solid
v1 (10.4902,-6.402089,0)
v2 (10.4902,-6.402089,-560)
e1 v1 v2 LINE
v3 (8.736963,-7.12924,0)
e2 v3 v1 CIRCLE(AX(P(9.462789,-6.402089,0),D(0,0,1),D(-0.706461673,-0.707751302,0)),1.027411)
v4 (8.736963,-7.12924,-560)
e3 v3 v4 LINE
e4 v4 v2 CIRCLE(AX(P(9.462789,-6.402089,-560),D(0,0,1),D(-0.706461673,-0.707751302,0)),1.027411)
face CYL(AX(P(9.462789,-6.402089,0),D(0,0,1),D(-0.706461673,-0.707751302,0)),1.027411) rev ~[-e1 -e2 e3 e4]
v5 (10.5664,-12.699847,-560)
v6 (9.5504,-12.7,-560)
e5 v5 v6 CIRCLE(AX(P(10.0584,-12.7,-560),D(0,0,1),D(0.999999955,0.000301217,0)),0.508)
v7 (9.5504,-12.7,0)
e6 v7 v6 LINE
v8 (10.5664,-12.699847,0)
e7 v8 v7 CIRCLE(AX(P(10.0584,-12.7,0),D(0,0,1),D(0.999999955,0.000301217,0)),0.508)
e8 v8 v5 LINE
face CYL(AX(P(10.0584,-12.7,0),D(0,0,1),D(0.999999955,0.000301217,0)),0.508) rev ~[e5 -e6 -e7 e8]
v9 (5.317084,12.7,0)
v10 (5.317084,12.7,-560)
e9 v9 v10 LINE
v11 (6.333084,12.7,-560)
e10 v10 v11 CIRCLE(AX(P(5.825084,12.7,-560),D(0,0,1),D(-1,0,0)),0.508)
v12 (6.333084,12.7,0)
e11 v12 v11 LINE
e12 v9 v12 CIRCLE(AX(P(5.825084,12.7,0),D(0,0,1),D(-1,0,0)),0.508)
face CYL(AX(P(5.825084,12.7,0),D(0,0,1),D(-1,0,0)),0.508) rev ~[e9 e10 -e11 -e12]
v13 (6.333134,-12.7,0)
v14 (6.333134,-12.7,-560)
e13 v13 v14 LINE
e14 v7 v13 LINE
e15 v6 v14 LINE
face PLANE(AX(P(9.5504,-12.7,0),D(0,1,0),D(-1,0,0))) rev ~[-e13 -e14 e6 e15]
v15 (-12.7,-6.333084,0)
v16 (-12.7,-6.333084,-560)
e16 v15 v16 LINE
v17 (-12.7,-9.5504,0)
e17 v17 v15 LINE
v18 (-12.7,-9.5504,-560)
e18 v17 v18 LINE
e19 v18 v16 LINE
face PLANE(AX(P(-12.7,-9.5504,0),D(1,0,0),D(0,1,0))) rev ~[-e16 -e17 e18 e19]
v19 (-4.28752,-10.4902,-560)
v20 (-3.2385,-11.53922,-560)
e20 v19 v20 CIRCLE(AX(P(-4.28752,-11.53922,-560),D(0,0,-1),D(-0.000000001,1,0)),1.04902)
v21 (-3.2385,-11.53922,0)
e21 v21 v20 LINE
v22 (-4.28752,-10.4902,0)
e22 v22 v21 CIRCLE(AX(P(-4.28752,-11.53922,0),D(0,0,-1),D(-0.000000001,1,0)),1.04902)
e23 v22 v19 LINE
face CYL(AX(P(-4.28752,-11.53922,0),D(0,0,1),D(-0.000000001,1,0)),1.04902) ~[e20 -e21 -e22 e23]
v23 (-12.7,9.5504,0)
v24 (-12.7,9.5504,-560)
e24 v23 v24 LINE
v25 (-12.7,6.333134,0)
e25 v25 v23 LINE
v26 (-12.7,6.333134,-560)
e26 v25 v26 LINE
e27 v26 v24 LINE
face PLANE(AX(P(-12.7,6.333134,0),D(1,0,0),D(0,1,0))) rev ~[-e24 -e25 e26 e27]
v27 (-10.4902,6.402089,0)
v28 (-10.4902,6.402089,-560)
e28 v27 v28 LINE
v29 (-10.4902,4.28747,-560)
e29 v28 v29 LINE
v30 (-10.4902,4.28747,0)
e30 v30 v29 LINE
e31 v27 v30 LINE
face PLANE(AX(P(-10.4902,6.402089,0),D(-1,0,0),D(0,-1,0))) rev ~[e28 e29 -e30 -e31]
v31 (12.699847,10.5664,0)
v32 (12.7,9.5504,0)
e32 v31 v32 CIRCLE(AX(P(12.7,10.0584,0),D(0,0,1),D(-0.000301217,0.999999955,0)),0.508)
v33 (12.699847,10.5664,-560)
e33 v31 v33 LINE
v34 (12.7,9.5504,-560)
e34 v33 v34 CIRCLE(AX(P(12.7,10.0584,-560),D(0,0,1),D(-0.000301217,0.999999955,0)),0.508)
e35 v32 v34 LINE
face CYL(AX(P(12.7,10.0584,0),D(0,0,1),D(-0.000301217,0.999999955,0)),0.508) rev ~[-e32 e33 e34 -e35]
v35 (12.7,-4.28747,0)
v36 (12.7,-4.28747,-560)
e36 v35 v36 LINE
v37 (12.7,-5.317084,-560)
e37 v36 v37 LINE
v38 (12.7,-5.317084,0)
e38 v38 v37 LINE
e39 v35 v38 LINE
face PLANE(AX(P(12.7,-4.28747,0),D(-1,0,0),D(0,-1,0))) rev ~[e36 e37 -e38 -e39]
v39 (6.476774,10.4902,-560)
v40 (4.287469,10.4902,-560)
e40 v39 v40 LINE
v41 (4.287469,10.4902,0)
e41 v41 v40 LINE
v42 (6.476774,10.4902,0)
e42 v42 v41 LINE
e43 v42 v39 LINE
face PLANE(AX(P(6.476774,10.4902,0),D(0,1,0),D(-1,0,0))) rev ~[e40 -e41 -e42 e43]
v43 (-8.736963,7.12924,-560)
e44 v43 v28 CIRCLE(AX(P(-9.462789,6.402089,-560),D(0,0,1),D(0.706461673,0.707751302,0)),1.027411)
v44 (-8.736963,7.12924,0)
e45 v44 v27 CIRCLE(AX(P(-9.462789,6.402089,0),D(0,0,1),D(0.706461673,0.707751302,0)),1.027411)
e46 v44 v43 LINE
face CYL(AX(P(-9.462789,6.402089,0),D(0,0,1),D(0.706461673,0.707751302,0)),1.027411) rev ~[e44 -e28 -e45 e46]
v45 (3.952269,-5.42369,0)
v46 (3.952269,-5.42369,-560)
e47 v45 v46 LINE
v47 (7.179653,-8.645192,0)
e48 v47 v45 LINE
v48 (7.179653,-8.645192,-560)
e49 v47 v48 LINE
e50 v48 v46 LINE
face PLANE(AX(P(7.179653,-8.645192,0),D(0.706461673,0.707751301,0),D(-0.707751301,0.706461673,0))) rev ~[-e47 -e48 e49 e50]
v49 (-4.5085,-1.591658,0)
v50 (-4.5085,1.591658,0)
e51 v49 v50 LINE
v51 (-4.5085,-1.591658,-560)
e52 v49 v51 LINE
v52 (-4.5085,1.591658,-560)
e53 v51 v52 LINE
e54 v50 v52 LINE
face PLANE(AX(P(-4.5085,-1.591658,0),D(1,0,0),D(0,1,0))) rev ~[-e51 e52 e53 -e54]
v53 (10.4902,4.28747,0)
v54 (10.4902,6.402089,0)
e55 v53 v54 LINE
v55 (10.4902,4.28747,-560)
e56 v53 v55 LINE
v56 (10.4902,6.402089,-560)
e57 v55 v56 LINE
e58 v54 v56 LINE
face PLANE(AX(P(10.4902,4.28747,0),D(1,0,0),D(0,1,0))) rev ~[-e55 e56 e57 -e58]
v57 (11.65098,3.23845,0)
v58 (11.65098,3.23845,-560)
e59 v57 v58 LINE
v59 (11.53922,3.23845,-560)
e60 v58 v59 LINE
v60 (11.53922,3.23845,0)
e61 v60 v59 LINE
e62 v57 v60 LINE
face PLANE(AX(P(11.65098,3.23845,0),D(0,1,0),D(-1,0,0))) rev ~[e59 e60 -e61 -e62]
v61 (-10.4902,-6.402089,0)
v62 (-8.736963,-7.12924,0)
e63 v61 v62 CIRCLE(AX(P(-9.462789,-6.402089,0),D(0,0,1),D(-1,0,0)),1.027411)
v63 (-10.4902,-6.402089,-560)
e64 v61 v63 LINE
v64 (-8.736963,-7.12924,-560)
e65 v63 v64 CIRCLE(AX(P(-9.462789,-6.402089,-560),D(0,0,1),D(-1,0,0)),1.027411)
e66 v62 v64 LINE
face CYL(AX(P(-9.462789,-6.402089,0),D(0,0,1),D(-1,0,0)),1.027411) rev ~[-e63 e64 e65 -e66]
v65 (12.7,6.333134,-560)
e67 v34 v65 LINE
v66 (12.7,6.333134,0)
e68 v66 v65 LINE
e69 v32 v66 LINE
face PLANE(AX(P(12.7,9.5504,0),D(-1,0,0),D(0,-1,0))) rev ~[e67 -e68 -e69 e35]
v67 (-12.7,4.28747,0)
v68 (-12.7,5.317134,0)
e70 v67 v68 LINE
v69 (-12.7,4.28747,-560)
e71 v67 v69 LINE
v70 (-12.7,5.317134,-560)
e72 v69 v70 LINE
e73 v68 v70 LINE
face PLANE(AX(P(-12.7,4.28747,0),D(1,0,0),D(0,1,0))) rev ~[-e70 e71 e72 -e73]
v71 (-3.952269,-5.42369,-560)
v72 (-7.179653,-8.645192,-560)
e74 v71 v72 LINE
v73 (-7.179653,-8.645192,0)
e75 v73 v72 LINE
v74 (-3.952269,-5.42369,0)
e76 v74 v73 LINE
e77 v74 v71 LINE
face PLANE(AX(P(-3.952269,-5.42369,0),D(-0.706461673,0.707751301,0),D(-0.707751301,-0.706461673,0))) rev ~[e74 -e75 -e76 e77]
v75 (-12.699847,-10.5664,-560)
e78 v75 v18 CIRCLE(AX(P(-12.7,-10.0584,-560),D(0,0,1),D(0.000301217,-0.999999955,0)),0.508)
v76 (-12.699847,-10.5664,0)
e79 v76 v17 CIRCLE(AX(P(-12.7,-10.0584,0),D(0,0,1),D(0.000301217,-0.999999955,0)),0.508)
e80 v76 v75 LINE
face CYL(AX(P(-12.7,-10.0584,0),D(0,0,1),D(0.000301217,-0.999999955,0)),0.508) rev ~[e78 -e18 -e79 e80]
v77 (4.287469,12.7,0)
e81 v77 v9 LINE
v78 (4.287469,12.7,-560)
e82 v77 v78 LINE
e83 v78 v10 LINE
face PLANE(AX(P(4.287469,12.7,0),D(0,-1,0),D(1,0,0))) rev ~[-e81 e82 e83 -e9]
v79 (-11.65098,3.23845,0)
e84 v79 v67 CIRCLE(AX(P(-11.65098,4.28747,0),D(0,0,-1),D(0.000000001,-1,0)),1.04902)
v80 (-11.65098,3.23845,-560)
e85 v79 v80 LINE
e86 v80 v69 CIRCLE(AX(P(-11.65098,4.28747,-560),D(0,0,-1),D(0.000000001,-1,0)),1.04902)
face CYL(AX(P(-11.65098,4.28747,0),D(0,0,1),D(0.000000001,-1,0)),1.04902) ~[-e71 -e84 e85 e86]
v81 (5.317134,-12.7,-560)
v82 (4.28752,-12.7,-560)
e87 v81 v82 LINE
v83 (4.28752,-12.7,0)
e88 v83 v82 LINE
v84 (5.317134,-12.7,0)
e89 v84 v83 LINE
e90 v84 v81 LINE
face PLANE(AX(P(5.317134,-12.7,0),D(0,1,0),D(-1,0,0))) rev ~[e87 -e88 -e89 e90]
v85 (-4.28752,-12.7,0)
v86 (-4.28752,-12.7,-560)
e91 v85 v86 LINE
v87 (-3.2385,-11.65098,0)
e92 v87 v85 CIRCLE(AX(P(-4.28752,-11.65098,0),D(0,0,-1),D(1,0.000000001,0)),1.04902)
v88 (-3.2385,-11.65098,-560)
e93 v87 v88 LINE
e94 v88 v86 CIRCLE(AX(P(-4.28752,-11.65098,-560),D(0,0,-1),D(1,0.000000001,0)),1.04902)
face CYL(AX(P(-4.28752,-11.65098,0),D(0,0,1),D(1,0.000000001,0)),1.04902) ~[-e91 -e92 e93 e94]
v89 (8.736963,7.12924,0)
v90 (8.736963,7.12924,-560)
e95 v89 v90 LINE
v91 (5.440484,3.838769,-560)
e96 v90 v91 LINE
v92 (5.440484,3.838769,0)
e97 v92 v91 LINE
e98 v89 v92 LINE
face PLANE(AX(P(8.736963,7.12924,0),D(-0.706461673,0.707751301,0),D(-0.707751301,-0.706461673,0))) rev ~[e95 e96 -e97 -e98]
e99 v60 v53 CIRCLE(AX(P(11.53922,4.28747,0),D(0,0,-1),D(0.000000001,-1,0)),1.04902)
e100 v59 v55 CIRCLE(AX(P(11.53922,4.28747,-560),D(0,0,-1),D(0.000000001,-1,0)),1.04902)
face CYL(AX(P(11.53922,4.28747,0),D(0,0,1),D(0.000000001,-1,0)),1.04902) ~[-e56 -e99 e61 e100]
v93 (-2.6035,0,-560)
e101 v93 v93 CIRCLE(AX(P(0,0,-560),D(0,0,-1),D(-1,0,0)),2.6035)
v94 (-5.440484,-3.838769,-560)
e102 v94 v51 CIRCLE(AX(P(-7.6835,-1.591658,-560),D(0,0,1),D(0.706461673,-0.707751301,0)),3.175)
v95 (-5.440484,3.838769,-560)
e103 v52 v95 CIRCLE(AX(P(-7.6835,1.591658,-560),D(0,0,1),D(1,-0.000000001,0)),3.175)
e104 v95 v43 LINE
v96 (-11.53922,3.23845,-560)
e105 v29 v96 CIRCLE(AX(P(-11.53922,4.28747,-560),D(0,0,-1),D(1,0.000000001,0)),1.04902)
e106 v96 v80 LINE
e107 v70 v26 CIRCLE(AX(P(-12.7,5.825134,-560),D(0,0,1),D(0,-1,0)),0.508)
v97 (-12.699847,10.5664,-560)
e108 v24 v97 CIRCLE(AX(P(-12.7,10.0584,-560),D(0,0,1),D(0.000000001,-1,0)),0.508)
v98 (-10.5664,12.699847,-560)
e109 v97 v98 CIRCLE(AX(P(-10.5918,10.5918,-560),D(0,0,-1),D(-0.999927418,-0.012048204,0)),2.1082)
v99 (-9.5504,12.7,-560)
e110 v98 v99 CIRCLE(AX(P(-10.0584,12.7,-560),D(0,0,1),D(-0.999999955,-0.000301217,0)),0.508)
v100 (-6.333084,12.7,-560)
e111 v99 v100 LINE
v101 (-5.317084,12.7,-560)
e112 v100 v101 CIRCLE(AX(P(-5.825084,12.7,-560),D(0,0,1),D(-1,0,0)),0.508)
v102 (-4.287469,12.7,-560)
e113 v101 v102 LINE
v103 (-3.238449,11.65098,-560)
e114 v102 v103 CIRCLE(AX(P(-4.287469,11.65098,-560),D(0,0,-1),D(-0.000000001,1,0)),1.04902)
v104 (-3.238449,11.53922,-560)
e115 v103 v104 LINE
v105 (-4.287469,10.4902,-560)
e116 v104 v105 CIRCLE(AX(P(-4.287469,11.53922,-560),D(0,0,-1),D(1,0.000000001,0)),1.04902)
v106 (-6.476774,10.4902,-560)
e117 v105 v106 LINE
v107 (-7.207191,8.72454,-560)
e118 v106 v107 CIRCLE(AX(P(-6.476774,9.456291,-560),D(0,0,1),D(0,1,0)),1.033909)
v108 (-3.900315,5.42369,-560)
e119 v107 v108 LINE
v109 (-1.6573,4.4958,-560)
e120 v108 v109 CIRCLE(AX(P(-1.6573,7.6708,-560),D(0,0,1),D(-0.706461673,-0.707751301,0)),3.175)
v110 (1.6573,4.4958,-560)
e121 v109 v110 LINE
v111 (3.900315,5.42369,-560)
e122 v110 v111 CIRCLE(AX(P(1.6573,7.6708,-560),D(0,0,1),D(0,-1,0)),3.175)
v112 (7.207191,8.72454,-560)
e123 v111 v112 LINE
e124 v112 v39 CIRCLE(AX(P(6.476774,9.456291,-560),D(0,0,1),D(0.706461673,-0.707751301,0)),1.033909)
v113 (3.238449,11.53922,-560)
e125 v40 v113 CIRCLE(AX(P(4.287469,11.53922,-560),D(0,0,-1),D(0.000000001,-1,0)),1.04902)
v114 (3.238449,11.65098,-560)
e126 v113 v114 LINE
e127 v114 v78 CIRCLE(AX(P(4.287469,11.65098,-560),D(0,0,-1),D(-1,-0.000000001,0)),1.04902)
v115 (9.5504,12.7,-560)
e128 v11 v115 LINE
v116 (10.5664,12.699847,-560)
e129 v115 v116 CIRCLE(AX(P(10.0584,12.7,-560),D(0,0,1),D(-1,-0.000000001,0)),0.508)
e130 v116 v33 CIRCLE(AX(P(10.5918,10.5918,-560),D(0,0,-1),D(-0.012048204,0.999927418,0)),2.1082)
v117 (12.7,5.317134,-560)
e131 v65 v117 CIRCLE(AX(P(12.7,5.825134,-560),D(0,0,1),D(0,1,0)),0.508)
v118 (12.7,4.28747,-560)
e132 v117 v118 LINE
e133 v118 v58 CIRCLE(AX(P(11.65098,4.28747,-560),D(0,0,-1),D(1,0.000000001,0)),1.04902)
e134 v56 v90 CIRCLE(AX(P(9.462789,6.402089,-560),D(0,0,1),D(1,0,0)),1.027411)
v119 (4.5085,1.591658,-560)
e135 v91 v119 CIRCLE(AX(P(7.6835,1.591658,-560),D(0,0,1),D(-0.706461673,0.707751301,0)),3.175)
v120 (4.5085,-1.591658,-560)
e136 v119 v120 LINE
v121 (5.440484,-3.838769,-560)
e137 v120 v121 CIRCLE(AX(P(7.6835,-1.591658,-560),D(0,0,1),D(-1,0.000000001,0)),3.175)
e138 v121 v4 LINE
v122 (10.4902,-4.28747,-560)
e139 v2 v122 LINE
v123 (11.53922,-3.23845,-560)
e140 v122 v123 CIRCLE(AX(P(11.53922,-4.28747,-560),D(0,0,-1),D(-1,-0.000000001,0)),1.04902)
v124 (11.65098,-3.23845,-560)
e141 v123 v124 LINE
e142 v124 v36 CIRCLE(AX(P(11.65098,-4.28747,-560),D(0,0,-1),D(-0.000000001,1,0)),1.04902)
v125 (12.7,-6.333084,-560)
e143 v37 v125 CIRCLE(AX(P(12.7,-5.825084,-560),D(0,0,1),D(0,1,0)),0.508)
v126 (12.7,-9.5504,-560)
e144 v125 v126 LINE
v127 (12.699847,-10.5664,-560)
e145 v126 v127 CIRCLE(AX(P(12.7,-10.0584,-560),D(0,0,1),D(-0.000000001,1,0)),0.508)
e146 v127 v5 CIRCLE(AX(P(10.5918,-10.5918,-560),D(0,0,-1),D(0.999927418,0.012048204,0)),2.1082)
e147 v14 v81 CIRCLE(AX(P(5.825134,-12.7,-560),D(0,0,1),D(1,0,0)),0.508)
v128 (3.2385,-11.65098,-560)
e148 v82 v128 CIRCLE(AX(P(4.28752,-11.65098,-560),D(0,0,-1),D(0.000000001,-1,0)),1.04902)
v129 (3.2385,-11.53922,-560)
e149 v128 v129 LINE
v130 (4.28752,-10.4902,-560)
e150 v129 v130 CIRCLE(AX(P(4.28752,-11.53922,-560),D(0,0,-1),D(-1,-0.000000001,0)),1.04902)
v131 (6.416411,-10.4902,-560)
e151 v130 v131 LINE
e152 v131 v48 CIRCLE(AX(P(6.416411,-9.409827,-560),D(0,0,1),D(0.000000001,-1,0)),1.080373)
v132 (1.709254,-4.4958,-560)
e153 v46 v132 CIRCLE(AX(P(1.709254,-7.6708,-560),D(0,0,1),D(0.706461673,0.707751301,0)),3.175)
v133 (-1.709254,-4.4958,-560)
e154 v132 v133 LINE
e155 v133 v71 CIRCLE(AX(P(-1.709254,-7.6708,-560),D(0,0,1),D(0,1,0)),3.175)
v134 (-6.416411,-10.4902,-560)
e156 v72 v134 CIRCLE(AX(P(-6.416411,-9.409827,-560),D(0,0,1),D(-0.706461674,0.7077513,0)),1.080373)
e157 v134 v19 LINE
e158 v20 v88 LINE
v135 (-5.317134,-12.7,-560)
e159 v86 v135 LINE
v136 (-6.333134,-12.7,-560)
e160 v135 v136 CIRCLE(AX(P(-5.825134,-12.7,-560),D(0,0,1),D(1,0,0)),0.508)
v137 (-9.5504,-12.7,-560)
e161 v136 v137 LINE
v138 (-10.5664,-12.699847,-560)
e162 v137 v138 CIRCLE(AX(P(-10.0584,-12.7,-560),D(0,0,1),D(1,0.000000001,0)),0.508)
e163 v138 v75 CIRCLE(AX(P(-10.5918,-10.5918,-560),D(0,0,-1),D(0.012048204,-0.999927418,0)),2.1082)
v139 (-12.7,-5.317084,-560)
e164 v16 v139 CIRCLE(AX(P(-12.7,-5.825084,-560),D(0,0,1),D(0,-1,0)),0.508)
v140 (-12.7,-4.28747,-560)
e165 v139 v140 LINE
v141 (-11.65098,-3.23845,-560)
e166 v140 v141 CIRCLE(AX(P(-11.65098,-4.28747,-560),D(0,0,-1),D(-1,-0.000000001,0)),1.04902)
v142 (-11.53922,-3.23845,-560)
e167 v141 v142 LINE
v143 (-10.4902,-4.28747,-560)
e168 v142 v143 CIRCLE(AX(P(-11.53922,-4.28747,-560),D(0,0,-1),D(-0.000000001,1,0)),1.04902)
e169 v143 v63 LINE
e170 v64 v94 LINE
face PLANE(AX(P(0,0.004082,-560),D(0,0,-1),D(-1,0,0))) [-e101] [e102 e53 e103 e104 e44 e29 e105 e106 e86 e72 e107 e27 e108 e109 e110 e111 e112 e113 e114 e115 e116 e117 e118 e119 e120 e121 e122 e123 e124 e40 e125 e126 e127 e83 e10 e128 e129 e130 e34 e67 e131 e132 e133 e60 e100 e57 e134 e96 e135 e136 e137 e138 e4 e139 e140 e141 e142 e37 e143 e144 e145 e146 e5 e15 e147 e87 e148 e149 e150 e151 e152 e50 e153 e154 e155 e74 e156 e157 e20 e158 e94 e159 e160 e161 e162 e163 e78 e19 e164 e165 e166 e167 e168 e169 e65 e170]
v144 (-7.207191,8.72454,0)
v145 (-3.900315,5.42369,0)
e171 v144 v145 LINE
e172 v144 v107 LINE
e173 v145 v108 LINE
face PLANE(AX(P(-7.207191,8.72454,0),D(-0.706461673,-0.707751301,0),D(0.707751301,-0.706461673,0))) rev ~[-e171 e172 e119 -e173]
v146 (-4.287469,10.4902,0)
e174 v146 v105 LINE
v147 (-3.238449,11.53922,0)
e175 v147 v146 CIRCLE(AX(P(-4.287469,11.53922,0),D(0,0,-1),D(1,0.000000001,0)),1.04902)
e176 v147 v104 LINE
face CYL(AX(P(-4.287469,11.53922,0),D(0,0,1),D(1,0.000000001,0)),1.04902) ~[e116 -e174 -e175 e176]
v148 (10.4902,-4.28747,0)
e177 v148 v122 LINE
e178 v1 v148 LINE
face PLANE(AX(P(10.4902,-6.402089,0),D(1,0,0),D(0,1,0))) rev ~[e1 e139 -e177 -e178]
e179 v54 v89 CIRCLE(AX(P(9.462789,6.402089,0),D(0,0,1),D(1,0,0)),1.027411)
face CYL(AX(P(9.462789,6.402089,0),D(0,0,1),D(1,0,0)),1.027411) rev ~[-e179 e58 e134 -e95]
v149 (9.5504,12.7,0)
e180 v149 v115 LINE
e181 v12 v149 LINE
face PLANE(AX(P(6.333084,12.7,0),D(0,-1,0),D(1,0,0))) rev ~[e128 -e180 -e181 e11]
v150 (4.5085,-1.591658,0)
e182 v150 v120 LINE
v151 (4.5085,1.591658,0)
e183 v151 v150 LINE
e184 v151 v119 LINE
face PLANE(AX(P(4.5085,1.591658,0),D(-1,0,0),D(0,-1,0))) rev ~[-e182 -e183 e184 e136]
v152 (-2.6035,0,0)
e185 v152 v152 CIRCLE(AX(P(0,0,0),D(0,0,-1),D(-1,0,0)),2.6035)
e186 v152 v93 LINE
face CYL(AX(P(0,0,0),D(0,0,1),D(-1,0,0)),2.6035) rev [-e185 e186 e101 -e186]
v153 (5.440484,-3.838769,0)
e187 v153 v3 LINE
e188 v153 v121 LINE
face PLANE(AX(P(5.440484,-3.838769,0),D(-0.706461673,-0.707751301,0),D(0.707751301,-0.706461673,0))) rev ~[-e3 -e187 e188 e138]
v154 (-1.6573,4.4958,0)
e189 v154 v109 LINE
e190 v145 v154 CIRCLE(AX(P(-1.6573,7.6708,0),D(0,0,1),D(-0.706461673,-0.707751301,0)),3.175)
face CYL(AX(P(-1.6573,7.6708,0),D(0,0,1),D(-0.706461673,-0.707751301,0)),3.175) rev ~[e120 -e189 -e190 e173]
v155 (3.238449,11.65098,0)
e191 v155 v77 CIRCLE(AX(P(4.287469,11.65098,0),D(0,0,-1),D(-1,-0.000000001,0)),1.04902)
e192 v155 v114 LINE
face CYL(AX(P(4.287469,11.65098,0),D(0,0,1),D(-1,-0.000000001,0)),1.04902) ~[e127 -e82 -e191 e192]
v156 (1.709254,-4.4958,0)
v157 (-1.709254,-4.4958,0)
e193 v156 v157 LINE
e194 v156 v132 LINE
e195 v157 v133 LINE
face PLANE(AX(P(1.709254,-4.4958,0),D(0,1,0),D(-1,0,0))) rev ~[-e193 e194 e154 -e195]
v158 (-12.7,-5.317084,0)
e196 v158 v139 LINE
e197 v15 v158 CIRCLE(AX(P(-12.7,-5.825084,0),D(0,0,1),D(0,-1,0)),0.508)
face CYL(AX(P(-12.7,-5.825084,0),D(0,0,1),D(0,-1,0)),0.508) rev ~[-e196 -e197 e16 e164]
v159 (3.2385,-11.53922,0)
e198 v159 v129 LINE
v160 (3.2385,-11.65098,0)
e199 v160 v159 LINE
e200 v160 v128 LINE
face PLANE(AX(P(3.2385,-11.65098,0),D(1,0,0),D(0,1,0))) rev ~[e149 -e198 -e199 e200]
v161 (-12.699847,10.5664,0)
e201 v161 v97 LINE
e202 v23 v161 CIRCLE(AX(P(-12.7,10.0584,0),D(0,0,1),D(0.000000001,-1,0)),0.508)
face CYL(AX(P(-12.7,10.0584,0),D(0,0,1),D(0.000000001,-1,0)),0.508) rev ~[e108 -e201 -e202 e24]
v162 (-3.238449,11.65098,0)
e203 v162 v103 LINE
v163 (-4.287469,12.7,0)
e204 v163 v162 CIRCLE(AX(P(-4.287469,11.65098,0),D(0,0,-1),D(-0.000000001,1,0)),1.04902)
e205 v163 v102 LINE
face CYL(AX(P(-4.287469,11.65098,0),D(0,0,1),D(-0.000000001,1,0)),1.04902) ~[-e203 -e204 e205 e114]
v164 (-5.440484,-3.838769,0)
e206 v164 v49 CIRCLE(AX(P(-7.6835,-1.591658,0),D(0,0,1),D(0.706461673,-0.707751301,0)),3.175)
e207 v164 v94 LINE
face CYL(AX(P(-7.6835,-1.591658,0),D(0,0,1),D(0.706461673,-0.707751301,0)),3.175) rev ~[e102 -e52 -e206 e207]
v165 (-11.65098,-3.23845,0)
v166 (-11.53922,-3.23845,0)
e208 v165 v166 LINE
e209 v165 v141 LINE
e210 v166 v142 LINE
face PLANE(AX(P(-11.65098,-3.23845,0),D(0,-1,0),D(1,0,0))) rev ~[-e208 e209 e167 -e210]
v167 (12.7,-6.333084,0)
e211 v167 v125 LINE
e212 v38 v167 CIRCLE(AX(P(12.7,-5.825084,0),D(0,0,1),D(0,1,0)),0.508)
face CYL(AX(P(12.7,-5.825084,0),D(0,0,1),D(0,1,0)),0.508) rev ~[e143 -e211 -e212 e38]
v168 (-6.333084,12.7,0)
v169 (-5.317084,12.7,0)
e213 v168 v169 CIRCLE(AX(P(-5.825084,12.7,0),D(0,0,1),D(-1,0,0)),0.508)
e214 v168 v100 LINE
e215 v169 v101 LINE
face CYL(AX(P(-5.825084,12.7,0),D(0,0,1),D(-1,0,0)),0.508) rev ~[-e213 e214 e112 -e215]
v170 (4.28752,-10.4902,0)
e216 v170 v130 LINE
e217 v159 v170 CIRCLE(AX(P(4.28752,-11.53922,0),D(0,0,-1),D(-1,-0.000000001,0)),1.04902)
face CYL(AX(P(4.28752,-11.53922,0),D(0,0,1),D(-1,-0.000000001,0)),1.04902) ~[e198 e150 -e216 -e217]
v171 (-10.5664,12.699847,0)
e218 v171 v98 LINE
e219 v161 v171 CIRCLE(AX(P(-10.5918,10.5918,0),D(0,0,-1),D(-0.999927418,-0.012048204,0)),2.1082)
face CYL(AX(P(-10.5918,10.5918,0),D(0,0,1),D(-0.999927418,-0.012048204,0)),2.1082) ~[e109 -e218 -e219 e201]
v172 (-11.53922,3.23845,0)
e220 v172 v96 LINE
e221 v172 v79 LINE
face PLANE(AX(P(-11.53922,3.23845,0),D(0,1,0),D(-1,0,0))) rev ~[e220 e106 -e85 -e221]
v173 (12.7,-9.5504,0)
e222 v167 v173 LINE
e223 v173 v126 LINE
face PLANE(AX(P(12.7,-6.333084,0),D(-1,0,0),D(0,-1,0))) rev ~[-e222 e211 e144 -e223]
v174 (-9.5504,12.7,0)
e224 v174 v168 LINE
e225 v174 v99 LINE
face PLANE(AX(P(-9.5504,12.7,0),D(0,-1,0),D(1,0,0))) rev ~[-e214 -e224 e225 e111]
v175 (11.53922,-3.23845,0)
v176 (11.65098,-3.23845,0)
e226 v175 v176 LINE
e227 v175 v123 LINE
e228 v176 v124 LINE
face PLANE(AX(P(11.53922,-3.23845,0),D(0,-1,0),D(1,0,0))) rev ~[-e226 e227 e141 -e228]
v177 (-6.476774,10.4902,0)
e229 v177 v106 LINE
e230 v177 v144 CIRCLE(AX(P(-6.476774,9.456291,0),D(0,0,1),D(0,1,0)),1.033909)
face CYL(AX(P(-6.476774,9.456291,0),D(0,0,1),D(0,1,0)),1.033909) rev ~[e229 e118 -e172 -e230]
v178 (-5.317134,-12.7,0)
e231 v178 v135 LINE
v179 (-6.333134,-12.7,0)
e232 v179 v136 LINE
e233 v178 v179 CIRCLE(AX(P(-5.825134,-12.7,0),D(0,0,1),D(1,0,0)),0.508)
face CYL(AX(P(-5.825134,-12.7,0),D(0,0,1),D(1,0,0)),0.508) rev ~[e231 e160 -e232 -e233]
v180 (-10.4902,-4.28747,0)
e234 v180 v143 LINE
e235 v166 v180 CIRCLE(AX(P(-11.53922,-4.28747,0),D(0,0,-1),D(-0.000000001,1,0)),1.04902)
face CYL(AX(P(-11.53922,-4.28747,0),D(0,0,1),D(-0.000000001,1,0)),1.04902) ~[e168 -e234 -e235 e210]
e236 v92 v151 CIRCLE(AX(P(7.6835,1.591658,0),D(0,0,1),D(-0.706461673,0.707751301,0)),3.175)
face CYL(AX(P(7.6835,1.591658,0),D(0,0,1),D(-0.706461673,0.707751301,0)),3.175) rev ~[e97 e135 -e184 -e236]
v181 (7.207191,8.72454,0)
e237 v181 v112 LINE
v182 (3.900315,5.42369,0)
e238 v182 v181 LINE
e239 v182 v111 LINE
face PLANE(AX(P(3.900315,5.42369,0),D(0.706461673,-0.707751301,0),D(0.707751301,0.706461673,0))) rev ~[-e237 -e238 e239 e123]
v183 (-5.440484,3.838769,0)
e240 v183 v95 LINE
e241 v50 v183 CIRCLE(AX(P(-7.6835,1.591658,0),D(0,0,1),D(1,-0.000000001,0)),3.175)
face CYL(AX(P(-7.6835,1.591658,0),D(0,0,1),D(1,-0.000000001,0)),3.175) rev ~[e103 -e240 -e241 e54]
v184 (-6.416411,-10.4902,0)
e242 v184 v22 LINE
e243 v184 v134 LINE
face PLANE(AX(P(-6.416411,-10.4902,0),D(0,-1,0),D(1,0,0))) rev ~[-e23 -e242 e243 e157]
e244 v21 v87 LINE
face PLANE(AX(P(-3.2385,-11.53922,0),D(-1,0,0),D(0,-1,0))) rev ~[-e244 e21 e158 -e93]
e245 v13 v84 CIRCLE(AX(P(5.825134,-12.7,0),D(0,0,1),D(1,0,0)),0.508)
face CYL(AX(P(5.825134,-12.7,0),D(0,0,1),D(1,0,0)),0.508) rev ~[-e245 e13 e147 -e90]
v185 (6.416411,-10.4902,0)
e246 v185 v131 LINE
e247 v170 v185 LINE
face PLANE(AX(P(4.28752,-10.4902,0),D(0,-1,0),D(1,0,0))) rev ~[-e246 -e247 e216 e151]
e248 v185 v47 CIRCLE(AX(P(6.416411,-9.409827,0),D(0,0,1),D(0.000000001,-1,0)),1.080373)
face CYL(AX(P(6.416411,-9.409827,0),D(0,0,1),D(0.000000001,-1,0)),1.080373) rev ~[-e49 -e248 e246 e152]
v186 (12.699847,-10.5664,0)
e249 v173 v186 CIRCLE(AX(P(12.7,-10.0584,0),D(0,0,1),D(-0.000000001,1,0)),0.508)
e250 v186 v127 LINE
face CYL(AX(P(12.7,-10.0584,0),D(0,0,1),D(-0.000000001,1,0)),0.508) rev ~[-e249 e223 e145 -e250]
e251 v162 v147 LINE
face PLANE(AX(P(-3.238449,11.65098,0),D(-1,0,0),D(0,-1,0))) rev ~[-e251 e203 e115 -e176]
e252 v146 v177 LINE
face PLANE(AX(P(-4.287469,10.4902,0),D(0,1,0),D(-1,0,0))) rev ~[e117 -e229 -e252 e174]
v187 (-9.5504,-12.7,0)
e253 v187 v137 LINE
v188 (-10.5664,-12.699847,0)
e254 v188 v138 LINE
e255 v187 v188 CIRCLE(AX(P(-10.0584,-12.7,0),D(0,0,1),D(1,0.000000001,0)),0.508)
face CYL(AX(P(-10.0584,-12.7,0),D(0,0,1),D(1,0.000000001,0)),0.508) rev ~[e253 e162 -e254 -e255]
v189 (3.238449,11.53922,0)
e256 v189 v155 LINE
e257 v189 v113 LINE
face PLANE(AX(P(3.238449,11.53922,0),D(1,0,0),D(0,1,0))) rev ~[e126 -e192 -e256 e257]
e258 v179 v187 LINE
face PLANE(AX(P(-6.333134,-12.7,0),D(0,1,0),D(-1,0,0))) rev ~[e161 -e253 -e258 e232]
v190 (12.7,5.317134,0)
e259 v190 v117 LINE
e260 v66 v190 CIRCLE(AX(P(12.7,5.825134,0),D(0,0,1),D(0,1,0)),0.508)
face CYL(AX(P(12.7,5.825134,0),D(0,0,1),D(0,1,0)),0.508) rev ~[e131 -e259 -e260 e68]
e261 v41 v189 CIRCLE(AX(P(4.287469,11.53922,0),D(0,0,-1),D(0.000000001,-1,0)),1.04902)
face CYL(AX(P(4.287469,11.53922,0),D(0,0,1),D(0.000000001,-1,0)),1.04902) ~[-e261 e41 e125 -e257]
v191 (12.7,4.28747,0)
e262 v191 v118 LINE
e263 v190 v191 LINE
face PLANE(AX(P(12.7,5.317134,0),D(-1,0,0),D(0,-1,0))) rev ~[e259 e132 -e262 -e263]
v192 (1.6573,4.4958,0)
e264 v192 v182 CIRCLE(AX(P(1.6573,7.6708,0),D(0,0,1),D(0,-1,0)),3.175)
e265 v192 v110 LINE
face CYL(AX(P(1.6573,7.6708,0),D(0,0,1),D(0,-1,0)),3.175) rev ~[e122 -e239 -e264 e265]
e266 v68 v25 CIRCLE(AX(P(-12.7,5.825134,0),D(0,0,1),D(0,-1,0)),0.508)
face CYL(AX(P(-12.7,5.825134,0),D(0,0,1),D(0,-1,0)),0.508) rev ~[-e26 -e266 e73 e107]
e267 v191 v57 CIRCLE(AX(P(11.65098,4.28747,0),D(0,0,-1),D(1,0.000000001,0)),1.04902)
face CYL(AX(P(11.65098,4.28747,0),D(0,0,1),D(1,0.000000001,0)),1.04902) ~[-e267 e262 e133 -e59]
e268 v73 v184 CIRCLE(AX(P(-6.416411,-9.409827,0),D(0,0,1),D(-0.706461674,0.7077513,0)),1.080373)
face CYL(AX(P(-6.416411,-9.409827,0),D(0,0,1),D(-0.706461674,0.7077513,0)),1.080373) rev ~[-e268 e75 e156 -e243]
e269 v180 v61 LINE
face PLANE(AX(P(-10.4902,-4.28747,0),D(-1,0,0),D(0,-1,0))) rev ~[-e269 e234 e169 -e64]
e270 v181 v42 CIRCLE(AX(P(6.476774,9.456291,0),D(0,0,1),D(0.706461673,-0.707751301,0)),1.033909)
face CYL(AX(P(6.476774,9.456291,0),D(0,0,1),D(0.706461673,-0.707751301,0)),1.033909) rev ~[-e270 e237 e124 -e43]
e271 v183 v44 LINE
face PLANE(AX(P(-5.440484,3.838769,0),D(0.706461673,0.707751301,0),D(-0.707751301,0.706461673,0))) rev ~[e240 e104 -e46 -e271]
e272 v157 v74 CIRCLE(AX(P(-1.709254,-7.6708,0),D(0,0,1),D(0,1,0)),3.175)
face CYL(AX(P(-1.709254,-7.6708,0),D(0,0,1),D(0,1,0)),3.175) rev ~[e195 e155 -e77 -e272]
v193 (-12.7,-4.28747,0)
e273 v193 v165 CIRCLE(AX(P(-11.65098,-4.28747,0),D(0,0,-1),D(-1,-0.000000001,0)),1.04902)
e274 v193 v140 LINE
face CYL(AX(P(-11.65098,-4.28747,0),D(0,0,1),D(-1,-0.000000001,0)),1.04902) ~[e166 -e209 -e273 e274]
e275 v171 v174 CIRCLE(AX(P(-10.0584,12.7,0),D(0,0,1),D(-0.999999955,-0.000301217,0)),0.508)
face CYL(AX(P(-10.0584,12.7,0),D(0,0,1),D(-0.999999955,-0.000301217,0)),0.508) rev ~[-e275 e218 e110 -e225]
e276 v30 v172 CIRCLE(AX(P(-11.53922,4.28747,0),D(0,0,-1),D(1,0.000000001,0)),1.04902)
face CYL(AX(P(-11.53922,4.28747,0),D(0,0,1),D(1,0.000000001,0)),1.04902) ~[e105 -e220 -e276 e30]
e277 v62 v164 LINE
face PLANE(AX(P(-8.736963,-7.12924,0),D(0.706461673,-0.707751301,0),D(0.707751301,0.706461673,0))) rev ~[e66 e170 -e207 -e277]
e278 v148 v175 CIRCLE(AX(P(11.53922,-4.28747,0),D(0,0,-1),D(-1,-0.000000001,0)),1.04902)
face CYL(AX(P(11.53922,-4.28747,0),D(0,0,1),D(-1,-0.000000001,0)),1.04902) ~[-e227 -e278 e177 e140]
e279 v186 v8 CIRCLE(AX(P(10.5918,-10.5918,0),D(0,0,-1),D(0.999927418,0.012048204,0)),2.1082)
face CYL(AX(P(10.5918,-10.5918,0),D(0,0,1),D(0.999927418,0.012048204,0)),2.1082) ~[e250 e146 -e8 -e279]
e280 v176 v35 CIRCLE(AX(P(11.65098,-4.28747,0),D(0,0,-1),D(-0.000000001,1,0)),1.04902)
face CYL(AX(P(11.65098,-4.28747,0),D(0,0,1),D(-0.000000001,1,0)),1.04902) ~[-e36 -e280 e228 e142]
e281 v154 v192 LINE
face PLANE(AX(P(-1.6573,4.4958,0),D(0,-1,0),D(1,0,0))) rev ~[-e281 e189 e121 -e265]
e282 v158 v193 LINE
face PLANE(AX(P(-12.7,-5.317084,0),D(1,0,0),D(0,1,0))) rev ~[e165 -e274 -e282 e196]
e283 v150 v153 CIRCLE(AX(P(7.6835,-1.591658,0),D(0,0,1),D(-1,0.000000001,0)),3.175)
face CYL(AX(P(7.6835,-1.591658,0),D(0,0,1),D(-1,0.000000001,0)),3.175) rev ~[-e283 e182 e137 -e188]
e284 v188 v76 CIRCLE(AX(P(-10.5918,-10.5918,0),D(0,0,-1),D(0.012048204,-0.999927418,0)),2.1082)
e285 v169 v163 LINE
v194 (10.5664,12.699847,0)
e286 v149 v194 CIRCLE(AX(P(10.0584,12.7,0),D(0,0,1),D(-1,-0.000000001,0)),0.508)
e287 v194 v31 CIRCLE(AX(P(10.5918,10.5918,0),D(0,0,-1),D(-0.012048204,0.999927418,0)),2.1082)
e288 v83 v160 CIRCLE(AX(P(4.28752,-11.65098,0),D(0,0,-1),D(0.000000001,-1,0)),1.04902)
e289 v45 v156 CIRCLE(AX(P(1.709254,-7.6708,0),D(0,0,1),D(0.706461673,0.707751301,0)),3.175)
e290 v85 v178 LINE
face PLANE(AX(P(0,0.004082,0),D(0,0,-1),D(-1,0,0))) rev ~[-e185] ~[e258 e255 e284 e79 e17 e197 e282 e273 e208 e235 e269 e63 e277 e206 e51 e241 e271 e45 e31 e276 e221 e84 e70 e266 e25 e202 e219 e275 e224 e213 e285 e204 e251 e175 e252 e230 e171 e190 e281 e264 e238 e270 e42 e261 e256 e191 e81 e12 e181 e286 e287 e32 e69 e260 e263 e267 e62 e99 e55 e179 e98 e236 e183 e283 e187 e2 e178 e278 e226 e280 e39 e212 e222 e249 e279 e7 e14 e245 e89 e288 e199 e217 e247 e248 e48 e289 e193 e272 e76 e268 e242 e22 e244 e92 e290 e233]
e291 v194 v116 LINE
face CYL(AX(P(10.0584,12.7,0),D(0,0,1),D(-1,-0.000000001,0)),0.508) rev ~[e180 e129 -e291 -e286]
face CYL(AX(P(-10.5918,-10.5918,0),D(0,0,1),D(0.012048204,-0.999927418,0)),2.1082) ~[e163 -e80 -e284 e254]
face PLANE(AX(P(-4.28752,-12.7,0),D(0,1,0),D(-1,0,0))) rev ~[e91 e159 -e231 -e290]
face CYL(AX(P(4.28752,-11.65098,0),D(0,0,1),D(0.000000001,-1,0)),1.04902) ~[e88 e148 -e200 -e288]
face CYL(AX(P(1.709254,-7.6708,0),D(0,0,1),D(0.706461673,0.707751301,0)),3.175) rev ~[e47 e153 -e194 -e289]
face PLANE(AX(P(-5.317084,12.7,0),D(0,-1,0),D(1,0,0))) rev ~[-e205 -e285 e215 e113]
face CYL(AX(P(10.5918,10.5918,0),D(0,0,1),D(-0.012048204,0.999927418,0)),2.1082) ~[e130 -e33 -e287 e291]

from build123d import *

# Parameters (mm, degrees)
SKETCH16_R                                 = 2.6035
IMPERIAL_AL_EXTRUSION_1010_PROFILE_1_DEPTH = 560


with BuildPart() as part:
    # Sketch16 → Imperial al extrusion 1010 PROFILE(1) (new body)
    with BuildSketch(Plane(origin=(0, 0, 0), x_dir=(-1, 0, 0), z_dir=(0, 0, -1))):
        with BuildLine():
            Line((-1.709253557, -4.4958), (1.709253557, -4.4958))
            ThreePointArc((1.709253557, -4.4958), (2.922935876, -4.736928798), (3.95226937, -5.423689619))
            Line((3.95226937, -5.423689619), (7.179652728, -8.645192207))
            ThreePointArc((7.179652728, -8.645192207), (7.414733441, -9.822812921), (6.41641086, -10.4902))
            Line((6.41641086, -10.4902), (4.28752, -10.4902))
            ThreePointArc((4.28752, -10.4902), (3.545750844, -10.797450844), (3.2385, -11.53922))
            Line((3.2385, -11.53922), (3.2385, -11.65098))
            ThreePointArc((3.2385, -11.65098), (3.545750844, -12.392749156), (4.28752, -12.7))
            Line((4.28752, -12.7), (5.3171344, -12.7))
            ThreePointArc((5.3171344, -12.7), (5.8251344, -12.192), (6.3331344, -12.7))
            Line((6.3331344, -12.7), (9.5504, -12.7))
            ThreePointArc((9.5504, -12.7), (10.058323491, -12.192000006), (10.566399977, -12.699846982))
            ThreePointArc((10.566399977, -12.699846982), (12.082522516, -12.082522516), (12.699846982, -10.566399977))
            ThreePointArc((12.699846982, -10.566399977), (12.192000006, -10.058323491), (12.7, -9.5504))
            Line((12.7, -9.5504), (12.7, -6.3330836))
            ThreePointArc((12.7, -6.3330836), (12.192, -5.8250836), (12.7, -5.3170836))
            Line((12.7, -5.3170836), (12.7, -4.287470133))
            ThreePointArc((12.7, -4.287470133), (12.392749156, -3.545700977), (11.65098, -3.238450133))
            Line((11.65098, -3.238450133), (11.53922, -3.238450133))
            ThreePointArc((11.53922, -3.238450133), (10.797450844, -3.545700977), (10.4902, -4.287470133))
            Line((10.4902, -4.287470133), (10.4902, -6.402089023))
            ThreePointArc((10.4902, -6.402089023), (9.856394933, -7.351113629), (8.736962546, -7.129240479))
            Line((8.736962546, -7.129240479), (5.440484187, -3.838768792))
            ThreePointArc((5.440484187, -3.838768792), (4.75073678, -2.808015636), (4.5085, -1.591658411))
            Line((4.5085, -1.591658411), (4.5085, 1.591658411))
            ThreePointArc((4.5085, 1.591658411), (4.75073678, 2.808015636), (5.440484187, 3.838768792))
            Line((5.440484187, 3.838768792), (8.736962546, 7.129240479))
            ThreePointArc((8.736962546, 7.129240479), (9.856394933, 7.351113629), (10.4902, 6.402089023))
            Line((10.4902, 6.402089023), (10.4902, 4.287470133))
            ThreePointArc((10.4902, 4.287470133), (10.797450844, 3.545700977), (11.53922, 3.238450133))
            Line((11.53922, 3.238450133), (11.65098, 3.238450133))
            ThreePointArc((11.65098, 3.238450133), (12.392749156, 3.545700977), (12.7, 4.287470133))
            Line((12.7, 4.287470133), (12.7, 5.3171344))
            ThreePointArc((12.7, 5.3171344), (12.192, 5.8251344), (12.7, 6.3331344))
            Line((12.7, 6.3331344), (12.7, 9.5504))
            ThreePointArc((12.7, 9.5504), (12.192000006, 10.058323491), (12.699846982, 10.566399977))
            ThreePointArc((12.699846982, 10.566399977), (12.082522516, 12.082522516), (10.566399977, 12.699846982))
            ThreePointArc((10.566399977, 12.699846982), (10.058323491, 12.192000006), (9.5504, 12.7))
            Line((9.5504, 12.7), (6.3330836, 12.7))
            ThreePointArc((6.3330836, 12.7), (5.8250836, 12.192), (5.3170836, 12.7))
            Line((5.3170836, 12.7), (4.2874692, 12.7))
            ThreePointArc((4.2874692, 12.7), (3.545700044, 12.392749156), (3.2384492, 11.65098))
            Line((3.2384492, 11.65098), (3.2384492, 11.53922))
            ThreePointArc((3.2384492, 11.53922), (3.545700044, 10.797450844), (4.2874692, 10.4902))
            Line((4.2874692, 10.4902), (6.476774195, 10.4902))
            ThreePointArc((6.476774195, 10.4902), (7.43216212, 9.851515102), (7.207191475, 8.724540082))
            Line((7.207191475, 8.724540082), (3.900315394, 5.423689619))
            ThreePointArc((3.900315394, 5.423689619), (2.8709819, 4.736928798), (1.657299581, 4.4958))
            Line((1.657299581, 4.4958), (-1.657299581, 4.4958))
            ThreePointArc((-1.657299581, 4.4958), (-2.8709819, 4.736928798), (-3.900315394, 5.423689619))
            Line((-3.900315394, 5.423689619), (-7.207191475, 8.724540082))
            ThreePointArc((-7.207191475, 8.724540082), (-7.43216212, 9.851515102), (-6.476774195, 10.4902))
            Line((-6.476774195, 10.4902), (-4.2874692, 10.4902))
            ThreePointArc((-4.2874692, 10.4902), (-3.545700044, 10.797450844), (-3.2384492, 11.53922))
            Line((-3.2384492, 11.53922), (-3.2384492, 11.65098))
            ThreePointArc((-3.2384492, 11.65098), (-3.545700044, 12.392749156), (-4.2874692, 12.7))
            Line((-4.2874692, 12.7), (-5.3170836, 12.7))
            ThreePointArc((-5.3170836, 12.7), (-5.8250836, 12.192), (-6.3330836, 12.7))
            Line((-6.3330836, 12.7), (-9.5504, 12.7))
            ThreePointArc((-9.5504, 12.7), (-10.058323491, 12.192000006), (-10.566399977, 12.699846982))
            ThreePointArc((-10.566399977, 12.699846982), (-12.082522516, 12.082522516), (-12.699846982, 10.566399977))
            ThreePointArc((-12.699846982, 10.566399977), (-12.192000006, 10.058323491), (-12.7, 9.5504))
            Line((-12.7, 9.5504), (-12.7, 6.3331344))
            ThreePointArc((-12.7, 6.3331344), (-12.192, 5.8251344), (-12.7, 5.3171344))
            Line((-12.7, 5.3171344), (-12.7, 4.287470133))
            ThreePointArc((-12.7, 4.287470133), (-12.392749156, 3.545700977), (-11.65098, 3.238450133))
            Line((-11.65098, 3.238450133), (-11.53922, 3.238450133))
            ThreePointArc((-11.53922, 3.238450133), (-10.797450844, 3.545700977), (-10.4902, 4.287470133))
            Line((-10.4902, 4.287470133), (-10.4902, 6.402089023))
            ThreePointArc((-10.4902, 6.402089023), (-9.856394933, 7.351113629), (-8.736962546, 7.129240479))
            Line((-8.736962546, 7.129240479), (-5.440484187, 3.838768792))
            ThreePointArc((-5.440484187, 3.838768792), (-4.75073678, 2.808015636), (-4.5085, 1.591658411))
            Line((-4.5085, 1.591658411), (-4.5085, -1.591658411))
            ThreePointArc((-4.5085, -1.591658411), (-4.75073678, -2.808015636), (-5.440484187, -3.838768792))
            Line((-5.440484187, -3.838768792), (-8.736962546, -7.129240479))
            ThreePointArc((-8.736962546, -7.129240479), (-9.856394933, -7.351113629), (-10.4902, -6.402089023))
            Line((-10.4902, -6.402089023), (-10.4902, -4.287470133))
            ThreePointArc((-10.4902, -4.287470133), (-10.797450844, -3.545700977), (-11.53922, -3.238450133))
            Line((-11.53922, -3.238450133), (-11.65098, -3.238450133))
            ThreePointArc((-11.65098, -3.238450133), (-12.392749156, -3.545700977), (-12.7, -4.287470133))
            Line((-12.7, -4.287470133), (-12.7, -5.3170836))
            ThreePointArc((-12.7, -5.3170836), (-12.192, -5.8250836), (-12.7, -6.3330836))
            Line((-12.7, -6.3330836), (-12.7, -9.5504))
            ThreePointArc((-12.7, -9.5504), (-12.192000006, -10.058323491), (-12.699846982, -10.566399977))
            ThreePointArc((-12.699846982, -10.566399977), (-12.082522516, -12.082522516), (-10.566399977, -12.699846982))
            ThreePointArc((-10.566399977, -12.699846982), (-10.058323491, -12.192000006), (-9.5504, -12.7))
            Line((-9.5504, -12.7), (-6.3331344, -12.7))
            ThreePointArc((-6.3331344, -12.7), (-5.8251344, -12.192), (-5.3171344, -12.7))
            Line((-5.3171344, -12.7), (-4.28752, -12.7))
            ThreePointArc((-4.28752, -12.7), (-3.545750844, -12.392749156), (-3.2385, -11.65098))
            Line((-3.2385, -11.65098), (-3.2385, -11.53922))
            ThreePointArc((-3.2385, -11.53922), (-3.545750844, -10.797450844), (-4.28752, -10.4902))
            Line((-4.28752, -10.4902), (-6.41641086, -10.4902))
            ThreePointArc((-6.41641086, -10.4902), (-7.414733441, -9.822812921), (-7.179652728, -8.645192207))
            Line((-7.179652728, -8.645192207), (-3.95226937, -5.423689619))
            ThreePointArc((-3.95226937, -5.423689619), (-2.922935876, -4.736928798), (-1.709253557, -4.4958))
        make_face()
        Circle(SKETCH16_R, mode=Mode.SUBTRACT)
    extrude(amount=IMPERIAL_AL_EXTRUSION_1010_PROFILE_1_DEPTH)


solid = part.part
